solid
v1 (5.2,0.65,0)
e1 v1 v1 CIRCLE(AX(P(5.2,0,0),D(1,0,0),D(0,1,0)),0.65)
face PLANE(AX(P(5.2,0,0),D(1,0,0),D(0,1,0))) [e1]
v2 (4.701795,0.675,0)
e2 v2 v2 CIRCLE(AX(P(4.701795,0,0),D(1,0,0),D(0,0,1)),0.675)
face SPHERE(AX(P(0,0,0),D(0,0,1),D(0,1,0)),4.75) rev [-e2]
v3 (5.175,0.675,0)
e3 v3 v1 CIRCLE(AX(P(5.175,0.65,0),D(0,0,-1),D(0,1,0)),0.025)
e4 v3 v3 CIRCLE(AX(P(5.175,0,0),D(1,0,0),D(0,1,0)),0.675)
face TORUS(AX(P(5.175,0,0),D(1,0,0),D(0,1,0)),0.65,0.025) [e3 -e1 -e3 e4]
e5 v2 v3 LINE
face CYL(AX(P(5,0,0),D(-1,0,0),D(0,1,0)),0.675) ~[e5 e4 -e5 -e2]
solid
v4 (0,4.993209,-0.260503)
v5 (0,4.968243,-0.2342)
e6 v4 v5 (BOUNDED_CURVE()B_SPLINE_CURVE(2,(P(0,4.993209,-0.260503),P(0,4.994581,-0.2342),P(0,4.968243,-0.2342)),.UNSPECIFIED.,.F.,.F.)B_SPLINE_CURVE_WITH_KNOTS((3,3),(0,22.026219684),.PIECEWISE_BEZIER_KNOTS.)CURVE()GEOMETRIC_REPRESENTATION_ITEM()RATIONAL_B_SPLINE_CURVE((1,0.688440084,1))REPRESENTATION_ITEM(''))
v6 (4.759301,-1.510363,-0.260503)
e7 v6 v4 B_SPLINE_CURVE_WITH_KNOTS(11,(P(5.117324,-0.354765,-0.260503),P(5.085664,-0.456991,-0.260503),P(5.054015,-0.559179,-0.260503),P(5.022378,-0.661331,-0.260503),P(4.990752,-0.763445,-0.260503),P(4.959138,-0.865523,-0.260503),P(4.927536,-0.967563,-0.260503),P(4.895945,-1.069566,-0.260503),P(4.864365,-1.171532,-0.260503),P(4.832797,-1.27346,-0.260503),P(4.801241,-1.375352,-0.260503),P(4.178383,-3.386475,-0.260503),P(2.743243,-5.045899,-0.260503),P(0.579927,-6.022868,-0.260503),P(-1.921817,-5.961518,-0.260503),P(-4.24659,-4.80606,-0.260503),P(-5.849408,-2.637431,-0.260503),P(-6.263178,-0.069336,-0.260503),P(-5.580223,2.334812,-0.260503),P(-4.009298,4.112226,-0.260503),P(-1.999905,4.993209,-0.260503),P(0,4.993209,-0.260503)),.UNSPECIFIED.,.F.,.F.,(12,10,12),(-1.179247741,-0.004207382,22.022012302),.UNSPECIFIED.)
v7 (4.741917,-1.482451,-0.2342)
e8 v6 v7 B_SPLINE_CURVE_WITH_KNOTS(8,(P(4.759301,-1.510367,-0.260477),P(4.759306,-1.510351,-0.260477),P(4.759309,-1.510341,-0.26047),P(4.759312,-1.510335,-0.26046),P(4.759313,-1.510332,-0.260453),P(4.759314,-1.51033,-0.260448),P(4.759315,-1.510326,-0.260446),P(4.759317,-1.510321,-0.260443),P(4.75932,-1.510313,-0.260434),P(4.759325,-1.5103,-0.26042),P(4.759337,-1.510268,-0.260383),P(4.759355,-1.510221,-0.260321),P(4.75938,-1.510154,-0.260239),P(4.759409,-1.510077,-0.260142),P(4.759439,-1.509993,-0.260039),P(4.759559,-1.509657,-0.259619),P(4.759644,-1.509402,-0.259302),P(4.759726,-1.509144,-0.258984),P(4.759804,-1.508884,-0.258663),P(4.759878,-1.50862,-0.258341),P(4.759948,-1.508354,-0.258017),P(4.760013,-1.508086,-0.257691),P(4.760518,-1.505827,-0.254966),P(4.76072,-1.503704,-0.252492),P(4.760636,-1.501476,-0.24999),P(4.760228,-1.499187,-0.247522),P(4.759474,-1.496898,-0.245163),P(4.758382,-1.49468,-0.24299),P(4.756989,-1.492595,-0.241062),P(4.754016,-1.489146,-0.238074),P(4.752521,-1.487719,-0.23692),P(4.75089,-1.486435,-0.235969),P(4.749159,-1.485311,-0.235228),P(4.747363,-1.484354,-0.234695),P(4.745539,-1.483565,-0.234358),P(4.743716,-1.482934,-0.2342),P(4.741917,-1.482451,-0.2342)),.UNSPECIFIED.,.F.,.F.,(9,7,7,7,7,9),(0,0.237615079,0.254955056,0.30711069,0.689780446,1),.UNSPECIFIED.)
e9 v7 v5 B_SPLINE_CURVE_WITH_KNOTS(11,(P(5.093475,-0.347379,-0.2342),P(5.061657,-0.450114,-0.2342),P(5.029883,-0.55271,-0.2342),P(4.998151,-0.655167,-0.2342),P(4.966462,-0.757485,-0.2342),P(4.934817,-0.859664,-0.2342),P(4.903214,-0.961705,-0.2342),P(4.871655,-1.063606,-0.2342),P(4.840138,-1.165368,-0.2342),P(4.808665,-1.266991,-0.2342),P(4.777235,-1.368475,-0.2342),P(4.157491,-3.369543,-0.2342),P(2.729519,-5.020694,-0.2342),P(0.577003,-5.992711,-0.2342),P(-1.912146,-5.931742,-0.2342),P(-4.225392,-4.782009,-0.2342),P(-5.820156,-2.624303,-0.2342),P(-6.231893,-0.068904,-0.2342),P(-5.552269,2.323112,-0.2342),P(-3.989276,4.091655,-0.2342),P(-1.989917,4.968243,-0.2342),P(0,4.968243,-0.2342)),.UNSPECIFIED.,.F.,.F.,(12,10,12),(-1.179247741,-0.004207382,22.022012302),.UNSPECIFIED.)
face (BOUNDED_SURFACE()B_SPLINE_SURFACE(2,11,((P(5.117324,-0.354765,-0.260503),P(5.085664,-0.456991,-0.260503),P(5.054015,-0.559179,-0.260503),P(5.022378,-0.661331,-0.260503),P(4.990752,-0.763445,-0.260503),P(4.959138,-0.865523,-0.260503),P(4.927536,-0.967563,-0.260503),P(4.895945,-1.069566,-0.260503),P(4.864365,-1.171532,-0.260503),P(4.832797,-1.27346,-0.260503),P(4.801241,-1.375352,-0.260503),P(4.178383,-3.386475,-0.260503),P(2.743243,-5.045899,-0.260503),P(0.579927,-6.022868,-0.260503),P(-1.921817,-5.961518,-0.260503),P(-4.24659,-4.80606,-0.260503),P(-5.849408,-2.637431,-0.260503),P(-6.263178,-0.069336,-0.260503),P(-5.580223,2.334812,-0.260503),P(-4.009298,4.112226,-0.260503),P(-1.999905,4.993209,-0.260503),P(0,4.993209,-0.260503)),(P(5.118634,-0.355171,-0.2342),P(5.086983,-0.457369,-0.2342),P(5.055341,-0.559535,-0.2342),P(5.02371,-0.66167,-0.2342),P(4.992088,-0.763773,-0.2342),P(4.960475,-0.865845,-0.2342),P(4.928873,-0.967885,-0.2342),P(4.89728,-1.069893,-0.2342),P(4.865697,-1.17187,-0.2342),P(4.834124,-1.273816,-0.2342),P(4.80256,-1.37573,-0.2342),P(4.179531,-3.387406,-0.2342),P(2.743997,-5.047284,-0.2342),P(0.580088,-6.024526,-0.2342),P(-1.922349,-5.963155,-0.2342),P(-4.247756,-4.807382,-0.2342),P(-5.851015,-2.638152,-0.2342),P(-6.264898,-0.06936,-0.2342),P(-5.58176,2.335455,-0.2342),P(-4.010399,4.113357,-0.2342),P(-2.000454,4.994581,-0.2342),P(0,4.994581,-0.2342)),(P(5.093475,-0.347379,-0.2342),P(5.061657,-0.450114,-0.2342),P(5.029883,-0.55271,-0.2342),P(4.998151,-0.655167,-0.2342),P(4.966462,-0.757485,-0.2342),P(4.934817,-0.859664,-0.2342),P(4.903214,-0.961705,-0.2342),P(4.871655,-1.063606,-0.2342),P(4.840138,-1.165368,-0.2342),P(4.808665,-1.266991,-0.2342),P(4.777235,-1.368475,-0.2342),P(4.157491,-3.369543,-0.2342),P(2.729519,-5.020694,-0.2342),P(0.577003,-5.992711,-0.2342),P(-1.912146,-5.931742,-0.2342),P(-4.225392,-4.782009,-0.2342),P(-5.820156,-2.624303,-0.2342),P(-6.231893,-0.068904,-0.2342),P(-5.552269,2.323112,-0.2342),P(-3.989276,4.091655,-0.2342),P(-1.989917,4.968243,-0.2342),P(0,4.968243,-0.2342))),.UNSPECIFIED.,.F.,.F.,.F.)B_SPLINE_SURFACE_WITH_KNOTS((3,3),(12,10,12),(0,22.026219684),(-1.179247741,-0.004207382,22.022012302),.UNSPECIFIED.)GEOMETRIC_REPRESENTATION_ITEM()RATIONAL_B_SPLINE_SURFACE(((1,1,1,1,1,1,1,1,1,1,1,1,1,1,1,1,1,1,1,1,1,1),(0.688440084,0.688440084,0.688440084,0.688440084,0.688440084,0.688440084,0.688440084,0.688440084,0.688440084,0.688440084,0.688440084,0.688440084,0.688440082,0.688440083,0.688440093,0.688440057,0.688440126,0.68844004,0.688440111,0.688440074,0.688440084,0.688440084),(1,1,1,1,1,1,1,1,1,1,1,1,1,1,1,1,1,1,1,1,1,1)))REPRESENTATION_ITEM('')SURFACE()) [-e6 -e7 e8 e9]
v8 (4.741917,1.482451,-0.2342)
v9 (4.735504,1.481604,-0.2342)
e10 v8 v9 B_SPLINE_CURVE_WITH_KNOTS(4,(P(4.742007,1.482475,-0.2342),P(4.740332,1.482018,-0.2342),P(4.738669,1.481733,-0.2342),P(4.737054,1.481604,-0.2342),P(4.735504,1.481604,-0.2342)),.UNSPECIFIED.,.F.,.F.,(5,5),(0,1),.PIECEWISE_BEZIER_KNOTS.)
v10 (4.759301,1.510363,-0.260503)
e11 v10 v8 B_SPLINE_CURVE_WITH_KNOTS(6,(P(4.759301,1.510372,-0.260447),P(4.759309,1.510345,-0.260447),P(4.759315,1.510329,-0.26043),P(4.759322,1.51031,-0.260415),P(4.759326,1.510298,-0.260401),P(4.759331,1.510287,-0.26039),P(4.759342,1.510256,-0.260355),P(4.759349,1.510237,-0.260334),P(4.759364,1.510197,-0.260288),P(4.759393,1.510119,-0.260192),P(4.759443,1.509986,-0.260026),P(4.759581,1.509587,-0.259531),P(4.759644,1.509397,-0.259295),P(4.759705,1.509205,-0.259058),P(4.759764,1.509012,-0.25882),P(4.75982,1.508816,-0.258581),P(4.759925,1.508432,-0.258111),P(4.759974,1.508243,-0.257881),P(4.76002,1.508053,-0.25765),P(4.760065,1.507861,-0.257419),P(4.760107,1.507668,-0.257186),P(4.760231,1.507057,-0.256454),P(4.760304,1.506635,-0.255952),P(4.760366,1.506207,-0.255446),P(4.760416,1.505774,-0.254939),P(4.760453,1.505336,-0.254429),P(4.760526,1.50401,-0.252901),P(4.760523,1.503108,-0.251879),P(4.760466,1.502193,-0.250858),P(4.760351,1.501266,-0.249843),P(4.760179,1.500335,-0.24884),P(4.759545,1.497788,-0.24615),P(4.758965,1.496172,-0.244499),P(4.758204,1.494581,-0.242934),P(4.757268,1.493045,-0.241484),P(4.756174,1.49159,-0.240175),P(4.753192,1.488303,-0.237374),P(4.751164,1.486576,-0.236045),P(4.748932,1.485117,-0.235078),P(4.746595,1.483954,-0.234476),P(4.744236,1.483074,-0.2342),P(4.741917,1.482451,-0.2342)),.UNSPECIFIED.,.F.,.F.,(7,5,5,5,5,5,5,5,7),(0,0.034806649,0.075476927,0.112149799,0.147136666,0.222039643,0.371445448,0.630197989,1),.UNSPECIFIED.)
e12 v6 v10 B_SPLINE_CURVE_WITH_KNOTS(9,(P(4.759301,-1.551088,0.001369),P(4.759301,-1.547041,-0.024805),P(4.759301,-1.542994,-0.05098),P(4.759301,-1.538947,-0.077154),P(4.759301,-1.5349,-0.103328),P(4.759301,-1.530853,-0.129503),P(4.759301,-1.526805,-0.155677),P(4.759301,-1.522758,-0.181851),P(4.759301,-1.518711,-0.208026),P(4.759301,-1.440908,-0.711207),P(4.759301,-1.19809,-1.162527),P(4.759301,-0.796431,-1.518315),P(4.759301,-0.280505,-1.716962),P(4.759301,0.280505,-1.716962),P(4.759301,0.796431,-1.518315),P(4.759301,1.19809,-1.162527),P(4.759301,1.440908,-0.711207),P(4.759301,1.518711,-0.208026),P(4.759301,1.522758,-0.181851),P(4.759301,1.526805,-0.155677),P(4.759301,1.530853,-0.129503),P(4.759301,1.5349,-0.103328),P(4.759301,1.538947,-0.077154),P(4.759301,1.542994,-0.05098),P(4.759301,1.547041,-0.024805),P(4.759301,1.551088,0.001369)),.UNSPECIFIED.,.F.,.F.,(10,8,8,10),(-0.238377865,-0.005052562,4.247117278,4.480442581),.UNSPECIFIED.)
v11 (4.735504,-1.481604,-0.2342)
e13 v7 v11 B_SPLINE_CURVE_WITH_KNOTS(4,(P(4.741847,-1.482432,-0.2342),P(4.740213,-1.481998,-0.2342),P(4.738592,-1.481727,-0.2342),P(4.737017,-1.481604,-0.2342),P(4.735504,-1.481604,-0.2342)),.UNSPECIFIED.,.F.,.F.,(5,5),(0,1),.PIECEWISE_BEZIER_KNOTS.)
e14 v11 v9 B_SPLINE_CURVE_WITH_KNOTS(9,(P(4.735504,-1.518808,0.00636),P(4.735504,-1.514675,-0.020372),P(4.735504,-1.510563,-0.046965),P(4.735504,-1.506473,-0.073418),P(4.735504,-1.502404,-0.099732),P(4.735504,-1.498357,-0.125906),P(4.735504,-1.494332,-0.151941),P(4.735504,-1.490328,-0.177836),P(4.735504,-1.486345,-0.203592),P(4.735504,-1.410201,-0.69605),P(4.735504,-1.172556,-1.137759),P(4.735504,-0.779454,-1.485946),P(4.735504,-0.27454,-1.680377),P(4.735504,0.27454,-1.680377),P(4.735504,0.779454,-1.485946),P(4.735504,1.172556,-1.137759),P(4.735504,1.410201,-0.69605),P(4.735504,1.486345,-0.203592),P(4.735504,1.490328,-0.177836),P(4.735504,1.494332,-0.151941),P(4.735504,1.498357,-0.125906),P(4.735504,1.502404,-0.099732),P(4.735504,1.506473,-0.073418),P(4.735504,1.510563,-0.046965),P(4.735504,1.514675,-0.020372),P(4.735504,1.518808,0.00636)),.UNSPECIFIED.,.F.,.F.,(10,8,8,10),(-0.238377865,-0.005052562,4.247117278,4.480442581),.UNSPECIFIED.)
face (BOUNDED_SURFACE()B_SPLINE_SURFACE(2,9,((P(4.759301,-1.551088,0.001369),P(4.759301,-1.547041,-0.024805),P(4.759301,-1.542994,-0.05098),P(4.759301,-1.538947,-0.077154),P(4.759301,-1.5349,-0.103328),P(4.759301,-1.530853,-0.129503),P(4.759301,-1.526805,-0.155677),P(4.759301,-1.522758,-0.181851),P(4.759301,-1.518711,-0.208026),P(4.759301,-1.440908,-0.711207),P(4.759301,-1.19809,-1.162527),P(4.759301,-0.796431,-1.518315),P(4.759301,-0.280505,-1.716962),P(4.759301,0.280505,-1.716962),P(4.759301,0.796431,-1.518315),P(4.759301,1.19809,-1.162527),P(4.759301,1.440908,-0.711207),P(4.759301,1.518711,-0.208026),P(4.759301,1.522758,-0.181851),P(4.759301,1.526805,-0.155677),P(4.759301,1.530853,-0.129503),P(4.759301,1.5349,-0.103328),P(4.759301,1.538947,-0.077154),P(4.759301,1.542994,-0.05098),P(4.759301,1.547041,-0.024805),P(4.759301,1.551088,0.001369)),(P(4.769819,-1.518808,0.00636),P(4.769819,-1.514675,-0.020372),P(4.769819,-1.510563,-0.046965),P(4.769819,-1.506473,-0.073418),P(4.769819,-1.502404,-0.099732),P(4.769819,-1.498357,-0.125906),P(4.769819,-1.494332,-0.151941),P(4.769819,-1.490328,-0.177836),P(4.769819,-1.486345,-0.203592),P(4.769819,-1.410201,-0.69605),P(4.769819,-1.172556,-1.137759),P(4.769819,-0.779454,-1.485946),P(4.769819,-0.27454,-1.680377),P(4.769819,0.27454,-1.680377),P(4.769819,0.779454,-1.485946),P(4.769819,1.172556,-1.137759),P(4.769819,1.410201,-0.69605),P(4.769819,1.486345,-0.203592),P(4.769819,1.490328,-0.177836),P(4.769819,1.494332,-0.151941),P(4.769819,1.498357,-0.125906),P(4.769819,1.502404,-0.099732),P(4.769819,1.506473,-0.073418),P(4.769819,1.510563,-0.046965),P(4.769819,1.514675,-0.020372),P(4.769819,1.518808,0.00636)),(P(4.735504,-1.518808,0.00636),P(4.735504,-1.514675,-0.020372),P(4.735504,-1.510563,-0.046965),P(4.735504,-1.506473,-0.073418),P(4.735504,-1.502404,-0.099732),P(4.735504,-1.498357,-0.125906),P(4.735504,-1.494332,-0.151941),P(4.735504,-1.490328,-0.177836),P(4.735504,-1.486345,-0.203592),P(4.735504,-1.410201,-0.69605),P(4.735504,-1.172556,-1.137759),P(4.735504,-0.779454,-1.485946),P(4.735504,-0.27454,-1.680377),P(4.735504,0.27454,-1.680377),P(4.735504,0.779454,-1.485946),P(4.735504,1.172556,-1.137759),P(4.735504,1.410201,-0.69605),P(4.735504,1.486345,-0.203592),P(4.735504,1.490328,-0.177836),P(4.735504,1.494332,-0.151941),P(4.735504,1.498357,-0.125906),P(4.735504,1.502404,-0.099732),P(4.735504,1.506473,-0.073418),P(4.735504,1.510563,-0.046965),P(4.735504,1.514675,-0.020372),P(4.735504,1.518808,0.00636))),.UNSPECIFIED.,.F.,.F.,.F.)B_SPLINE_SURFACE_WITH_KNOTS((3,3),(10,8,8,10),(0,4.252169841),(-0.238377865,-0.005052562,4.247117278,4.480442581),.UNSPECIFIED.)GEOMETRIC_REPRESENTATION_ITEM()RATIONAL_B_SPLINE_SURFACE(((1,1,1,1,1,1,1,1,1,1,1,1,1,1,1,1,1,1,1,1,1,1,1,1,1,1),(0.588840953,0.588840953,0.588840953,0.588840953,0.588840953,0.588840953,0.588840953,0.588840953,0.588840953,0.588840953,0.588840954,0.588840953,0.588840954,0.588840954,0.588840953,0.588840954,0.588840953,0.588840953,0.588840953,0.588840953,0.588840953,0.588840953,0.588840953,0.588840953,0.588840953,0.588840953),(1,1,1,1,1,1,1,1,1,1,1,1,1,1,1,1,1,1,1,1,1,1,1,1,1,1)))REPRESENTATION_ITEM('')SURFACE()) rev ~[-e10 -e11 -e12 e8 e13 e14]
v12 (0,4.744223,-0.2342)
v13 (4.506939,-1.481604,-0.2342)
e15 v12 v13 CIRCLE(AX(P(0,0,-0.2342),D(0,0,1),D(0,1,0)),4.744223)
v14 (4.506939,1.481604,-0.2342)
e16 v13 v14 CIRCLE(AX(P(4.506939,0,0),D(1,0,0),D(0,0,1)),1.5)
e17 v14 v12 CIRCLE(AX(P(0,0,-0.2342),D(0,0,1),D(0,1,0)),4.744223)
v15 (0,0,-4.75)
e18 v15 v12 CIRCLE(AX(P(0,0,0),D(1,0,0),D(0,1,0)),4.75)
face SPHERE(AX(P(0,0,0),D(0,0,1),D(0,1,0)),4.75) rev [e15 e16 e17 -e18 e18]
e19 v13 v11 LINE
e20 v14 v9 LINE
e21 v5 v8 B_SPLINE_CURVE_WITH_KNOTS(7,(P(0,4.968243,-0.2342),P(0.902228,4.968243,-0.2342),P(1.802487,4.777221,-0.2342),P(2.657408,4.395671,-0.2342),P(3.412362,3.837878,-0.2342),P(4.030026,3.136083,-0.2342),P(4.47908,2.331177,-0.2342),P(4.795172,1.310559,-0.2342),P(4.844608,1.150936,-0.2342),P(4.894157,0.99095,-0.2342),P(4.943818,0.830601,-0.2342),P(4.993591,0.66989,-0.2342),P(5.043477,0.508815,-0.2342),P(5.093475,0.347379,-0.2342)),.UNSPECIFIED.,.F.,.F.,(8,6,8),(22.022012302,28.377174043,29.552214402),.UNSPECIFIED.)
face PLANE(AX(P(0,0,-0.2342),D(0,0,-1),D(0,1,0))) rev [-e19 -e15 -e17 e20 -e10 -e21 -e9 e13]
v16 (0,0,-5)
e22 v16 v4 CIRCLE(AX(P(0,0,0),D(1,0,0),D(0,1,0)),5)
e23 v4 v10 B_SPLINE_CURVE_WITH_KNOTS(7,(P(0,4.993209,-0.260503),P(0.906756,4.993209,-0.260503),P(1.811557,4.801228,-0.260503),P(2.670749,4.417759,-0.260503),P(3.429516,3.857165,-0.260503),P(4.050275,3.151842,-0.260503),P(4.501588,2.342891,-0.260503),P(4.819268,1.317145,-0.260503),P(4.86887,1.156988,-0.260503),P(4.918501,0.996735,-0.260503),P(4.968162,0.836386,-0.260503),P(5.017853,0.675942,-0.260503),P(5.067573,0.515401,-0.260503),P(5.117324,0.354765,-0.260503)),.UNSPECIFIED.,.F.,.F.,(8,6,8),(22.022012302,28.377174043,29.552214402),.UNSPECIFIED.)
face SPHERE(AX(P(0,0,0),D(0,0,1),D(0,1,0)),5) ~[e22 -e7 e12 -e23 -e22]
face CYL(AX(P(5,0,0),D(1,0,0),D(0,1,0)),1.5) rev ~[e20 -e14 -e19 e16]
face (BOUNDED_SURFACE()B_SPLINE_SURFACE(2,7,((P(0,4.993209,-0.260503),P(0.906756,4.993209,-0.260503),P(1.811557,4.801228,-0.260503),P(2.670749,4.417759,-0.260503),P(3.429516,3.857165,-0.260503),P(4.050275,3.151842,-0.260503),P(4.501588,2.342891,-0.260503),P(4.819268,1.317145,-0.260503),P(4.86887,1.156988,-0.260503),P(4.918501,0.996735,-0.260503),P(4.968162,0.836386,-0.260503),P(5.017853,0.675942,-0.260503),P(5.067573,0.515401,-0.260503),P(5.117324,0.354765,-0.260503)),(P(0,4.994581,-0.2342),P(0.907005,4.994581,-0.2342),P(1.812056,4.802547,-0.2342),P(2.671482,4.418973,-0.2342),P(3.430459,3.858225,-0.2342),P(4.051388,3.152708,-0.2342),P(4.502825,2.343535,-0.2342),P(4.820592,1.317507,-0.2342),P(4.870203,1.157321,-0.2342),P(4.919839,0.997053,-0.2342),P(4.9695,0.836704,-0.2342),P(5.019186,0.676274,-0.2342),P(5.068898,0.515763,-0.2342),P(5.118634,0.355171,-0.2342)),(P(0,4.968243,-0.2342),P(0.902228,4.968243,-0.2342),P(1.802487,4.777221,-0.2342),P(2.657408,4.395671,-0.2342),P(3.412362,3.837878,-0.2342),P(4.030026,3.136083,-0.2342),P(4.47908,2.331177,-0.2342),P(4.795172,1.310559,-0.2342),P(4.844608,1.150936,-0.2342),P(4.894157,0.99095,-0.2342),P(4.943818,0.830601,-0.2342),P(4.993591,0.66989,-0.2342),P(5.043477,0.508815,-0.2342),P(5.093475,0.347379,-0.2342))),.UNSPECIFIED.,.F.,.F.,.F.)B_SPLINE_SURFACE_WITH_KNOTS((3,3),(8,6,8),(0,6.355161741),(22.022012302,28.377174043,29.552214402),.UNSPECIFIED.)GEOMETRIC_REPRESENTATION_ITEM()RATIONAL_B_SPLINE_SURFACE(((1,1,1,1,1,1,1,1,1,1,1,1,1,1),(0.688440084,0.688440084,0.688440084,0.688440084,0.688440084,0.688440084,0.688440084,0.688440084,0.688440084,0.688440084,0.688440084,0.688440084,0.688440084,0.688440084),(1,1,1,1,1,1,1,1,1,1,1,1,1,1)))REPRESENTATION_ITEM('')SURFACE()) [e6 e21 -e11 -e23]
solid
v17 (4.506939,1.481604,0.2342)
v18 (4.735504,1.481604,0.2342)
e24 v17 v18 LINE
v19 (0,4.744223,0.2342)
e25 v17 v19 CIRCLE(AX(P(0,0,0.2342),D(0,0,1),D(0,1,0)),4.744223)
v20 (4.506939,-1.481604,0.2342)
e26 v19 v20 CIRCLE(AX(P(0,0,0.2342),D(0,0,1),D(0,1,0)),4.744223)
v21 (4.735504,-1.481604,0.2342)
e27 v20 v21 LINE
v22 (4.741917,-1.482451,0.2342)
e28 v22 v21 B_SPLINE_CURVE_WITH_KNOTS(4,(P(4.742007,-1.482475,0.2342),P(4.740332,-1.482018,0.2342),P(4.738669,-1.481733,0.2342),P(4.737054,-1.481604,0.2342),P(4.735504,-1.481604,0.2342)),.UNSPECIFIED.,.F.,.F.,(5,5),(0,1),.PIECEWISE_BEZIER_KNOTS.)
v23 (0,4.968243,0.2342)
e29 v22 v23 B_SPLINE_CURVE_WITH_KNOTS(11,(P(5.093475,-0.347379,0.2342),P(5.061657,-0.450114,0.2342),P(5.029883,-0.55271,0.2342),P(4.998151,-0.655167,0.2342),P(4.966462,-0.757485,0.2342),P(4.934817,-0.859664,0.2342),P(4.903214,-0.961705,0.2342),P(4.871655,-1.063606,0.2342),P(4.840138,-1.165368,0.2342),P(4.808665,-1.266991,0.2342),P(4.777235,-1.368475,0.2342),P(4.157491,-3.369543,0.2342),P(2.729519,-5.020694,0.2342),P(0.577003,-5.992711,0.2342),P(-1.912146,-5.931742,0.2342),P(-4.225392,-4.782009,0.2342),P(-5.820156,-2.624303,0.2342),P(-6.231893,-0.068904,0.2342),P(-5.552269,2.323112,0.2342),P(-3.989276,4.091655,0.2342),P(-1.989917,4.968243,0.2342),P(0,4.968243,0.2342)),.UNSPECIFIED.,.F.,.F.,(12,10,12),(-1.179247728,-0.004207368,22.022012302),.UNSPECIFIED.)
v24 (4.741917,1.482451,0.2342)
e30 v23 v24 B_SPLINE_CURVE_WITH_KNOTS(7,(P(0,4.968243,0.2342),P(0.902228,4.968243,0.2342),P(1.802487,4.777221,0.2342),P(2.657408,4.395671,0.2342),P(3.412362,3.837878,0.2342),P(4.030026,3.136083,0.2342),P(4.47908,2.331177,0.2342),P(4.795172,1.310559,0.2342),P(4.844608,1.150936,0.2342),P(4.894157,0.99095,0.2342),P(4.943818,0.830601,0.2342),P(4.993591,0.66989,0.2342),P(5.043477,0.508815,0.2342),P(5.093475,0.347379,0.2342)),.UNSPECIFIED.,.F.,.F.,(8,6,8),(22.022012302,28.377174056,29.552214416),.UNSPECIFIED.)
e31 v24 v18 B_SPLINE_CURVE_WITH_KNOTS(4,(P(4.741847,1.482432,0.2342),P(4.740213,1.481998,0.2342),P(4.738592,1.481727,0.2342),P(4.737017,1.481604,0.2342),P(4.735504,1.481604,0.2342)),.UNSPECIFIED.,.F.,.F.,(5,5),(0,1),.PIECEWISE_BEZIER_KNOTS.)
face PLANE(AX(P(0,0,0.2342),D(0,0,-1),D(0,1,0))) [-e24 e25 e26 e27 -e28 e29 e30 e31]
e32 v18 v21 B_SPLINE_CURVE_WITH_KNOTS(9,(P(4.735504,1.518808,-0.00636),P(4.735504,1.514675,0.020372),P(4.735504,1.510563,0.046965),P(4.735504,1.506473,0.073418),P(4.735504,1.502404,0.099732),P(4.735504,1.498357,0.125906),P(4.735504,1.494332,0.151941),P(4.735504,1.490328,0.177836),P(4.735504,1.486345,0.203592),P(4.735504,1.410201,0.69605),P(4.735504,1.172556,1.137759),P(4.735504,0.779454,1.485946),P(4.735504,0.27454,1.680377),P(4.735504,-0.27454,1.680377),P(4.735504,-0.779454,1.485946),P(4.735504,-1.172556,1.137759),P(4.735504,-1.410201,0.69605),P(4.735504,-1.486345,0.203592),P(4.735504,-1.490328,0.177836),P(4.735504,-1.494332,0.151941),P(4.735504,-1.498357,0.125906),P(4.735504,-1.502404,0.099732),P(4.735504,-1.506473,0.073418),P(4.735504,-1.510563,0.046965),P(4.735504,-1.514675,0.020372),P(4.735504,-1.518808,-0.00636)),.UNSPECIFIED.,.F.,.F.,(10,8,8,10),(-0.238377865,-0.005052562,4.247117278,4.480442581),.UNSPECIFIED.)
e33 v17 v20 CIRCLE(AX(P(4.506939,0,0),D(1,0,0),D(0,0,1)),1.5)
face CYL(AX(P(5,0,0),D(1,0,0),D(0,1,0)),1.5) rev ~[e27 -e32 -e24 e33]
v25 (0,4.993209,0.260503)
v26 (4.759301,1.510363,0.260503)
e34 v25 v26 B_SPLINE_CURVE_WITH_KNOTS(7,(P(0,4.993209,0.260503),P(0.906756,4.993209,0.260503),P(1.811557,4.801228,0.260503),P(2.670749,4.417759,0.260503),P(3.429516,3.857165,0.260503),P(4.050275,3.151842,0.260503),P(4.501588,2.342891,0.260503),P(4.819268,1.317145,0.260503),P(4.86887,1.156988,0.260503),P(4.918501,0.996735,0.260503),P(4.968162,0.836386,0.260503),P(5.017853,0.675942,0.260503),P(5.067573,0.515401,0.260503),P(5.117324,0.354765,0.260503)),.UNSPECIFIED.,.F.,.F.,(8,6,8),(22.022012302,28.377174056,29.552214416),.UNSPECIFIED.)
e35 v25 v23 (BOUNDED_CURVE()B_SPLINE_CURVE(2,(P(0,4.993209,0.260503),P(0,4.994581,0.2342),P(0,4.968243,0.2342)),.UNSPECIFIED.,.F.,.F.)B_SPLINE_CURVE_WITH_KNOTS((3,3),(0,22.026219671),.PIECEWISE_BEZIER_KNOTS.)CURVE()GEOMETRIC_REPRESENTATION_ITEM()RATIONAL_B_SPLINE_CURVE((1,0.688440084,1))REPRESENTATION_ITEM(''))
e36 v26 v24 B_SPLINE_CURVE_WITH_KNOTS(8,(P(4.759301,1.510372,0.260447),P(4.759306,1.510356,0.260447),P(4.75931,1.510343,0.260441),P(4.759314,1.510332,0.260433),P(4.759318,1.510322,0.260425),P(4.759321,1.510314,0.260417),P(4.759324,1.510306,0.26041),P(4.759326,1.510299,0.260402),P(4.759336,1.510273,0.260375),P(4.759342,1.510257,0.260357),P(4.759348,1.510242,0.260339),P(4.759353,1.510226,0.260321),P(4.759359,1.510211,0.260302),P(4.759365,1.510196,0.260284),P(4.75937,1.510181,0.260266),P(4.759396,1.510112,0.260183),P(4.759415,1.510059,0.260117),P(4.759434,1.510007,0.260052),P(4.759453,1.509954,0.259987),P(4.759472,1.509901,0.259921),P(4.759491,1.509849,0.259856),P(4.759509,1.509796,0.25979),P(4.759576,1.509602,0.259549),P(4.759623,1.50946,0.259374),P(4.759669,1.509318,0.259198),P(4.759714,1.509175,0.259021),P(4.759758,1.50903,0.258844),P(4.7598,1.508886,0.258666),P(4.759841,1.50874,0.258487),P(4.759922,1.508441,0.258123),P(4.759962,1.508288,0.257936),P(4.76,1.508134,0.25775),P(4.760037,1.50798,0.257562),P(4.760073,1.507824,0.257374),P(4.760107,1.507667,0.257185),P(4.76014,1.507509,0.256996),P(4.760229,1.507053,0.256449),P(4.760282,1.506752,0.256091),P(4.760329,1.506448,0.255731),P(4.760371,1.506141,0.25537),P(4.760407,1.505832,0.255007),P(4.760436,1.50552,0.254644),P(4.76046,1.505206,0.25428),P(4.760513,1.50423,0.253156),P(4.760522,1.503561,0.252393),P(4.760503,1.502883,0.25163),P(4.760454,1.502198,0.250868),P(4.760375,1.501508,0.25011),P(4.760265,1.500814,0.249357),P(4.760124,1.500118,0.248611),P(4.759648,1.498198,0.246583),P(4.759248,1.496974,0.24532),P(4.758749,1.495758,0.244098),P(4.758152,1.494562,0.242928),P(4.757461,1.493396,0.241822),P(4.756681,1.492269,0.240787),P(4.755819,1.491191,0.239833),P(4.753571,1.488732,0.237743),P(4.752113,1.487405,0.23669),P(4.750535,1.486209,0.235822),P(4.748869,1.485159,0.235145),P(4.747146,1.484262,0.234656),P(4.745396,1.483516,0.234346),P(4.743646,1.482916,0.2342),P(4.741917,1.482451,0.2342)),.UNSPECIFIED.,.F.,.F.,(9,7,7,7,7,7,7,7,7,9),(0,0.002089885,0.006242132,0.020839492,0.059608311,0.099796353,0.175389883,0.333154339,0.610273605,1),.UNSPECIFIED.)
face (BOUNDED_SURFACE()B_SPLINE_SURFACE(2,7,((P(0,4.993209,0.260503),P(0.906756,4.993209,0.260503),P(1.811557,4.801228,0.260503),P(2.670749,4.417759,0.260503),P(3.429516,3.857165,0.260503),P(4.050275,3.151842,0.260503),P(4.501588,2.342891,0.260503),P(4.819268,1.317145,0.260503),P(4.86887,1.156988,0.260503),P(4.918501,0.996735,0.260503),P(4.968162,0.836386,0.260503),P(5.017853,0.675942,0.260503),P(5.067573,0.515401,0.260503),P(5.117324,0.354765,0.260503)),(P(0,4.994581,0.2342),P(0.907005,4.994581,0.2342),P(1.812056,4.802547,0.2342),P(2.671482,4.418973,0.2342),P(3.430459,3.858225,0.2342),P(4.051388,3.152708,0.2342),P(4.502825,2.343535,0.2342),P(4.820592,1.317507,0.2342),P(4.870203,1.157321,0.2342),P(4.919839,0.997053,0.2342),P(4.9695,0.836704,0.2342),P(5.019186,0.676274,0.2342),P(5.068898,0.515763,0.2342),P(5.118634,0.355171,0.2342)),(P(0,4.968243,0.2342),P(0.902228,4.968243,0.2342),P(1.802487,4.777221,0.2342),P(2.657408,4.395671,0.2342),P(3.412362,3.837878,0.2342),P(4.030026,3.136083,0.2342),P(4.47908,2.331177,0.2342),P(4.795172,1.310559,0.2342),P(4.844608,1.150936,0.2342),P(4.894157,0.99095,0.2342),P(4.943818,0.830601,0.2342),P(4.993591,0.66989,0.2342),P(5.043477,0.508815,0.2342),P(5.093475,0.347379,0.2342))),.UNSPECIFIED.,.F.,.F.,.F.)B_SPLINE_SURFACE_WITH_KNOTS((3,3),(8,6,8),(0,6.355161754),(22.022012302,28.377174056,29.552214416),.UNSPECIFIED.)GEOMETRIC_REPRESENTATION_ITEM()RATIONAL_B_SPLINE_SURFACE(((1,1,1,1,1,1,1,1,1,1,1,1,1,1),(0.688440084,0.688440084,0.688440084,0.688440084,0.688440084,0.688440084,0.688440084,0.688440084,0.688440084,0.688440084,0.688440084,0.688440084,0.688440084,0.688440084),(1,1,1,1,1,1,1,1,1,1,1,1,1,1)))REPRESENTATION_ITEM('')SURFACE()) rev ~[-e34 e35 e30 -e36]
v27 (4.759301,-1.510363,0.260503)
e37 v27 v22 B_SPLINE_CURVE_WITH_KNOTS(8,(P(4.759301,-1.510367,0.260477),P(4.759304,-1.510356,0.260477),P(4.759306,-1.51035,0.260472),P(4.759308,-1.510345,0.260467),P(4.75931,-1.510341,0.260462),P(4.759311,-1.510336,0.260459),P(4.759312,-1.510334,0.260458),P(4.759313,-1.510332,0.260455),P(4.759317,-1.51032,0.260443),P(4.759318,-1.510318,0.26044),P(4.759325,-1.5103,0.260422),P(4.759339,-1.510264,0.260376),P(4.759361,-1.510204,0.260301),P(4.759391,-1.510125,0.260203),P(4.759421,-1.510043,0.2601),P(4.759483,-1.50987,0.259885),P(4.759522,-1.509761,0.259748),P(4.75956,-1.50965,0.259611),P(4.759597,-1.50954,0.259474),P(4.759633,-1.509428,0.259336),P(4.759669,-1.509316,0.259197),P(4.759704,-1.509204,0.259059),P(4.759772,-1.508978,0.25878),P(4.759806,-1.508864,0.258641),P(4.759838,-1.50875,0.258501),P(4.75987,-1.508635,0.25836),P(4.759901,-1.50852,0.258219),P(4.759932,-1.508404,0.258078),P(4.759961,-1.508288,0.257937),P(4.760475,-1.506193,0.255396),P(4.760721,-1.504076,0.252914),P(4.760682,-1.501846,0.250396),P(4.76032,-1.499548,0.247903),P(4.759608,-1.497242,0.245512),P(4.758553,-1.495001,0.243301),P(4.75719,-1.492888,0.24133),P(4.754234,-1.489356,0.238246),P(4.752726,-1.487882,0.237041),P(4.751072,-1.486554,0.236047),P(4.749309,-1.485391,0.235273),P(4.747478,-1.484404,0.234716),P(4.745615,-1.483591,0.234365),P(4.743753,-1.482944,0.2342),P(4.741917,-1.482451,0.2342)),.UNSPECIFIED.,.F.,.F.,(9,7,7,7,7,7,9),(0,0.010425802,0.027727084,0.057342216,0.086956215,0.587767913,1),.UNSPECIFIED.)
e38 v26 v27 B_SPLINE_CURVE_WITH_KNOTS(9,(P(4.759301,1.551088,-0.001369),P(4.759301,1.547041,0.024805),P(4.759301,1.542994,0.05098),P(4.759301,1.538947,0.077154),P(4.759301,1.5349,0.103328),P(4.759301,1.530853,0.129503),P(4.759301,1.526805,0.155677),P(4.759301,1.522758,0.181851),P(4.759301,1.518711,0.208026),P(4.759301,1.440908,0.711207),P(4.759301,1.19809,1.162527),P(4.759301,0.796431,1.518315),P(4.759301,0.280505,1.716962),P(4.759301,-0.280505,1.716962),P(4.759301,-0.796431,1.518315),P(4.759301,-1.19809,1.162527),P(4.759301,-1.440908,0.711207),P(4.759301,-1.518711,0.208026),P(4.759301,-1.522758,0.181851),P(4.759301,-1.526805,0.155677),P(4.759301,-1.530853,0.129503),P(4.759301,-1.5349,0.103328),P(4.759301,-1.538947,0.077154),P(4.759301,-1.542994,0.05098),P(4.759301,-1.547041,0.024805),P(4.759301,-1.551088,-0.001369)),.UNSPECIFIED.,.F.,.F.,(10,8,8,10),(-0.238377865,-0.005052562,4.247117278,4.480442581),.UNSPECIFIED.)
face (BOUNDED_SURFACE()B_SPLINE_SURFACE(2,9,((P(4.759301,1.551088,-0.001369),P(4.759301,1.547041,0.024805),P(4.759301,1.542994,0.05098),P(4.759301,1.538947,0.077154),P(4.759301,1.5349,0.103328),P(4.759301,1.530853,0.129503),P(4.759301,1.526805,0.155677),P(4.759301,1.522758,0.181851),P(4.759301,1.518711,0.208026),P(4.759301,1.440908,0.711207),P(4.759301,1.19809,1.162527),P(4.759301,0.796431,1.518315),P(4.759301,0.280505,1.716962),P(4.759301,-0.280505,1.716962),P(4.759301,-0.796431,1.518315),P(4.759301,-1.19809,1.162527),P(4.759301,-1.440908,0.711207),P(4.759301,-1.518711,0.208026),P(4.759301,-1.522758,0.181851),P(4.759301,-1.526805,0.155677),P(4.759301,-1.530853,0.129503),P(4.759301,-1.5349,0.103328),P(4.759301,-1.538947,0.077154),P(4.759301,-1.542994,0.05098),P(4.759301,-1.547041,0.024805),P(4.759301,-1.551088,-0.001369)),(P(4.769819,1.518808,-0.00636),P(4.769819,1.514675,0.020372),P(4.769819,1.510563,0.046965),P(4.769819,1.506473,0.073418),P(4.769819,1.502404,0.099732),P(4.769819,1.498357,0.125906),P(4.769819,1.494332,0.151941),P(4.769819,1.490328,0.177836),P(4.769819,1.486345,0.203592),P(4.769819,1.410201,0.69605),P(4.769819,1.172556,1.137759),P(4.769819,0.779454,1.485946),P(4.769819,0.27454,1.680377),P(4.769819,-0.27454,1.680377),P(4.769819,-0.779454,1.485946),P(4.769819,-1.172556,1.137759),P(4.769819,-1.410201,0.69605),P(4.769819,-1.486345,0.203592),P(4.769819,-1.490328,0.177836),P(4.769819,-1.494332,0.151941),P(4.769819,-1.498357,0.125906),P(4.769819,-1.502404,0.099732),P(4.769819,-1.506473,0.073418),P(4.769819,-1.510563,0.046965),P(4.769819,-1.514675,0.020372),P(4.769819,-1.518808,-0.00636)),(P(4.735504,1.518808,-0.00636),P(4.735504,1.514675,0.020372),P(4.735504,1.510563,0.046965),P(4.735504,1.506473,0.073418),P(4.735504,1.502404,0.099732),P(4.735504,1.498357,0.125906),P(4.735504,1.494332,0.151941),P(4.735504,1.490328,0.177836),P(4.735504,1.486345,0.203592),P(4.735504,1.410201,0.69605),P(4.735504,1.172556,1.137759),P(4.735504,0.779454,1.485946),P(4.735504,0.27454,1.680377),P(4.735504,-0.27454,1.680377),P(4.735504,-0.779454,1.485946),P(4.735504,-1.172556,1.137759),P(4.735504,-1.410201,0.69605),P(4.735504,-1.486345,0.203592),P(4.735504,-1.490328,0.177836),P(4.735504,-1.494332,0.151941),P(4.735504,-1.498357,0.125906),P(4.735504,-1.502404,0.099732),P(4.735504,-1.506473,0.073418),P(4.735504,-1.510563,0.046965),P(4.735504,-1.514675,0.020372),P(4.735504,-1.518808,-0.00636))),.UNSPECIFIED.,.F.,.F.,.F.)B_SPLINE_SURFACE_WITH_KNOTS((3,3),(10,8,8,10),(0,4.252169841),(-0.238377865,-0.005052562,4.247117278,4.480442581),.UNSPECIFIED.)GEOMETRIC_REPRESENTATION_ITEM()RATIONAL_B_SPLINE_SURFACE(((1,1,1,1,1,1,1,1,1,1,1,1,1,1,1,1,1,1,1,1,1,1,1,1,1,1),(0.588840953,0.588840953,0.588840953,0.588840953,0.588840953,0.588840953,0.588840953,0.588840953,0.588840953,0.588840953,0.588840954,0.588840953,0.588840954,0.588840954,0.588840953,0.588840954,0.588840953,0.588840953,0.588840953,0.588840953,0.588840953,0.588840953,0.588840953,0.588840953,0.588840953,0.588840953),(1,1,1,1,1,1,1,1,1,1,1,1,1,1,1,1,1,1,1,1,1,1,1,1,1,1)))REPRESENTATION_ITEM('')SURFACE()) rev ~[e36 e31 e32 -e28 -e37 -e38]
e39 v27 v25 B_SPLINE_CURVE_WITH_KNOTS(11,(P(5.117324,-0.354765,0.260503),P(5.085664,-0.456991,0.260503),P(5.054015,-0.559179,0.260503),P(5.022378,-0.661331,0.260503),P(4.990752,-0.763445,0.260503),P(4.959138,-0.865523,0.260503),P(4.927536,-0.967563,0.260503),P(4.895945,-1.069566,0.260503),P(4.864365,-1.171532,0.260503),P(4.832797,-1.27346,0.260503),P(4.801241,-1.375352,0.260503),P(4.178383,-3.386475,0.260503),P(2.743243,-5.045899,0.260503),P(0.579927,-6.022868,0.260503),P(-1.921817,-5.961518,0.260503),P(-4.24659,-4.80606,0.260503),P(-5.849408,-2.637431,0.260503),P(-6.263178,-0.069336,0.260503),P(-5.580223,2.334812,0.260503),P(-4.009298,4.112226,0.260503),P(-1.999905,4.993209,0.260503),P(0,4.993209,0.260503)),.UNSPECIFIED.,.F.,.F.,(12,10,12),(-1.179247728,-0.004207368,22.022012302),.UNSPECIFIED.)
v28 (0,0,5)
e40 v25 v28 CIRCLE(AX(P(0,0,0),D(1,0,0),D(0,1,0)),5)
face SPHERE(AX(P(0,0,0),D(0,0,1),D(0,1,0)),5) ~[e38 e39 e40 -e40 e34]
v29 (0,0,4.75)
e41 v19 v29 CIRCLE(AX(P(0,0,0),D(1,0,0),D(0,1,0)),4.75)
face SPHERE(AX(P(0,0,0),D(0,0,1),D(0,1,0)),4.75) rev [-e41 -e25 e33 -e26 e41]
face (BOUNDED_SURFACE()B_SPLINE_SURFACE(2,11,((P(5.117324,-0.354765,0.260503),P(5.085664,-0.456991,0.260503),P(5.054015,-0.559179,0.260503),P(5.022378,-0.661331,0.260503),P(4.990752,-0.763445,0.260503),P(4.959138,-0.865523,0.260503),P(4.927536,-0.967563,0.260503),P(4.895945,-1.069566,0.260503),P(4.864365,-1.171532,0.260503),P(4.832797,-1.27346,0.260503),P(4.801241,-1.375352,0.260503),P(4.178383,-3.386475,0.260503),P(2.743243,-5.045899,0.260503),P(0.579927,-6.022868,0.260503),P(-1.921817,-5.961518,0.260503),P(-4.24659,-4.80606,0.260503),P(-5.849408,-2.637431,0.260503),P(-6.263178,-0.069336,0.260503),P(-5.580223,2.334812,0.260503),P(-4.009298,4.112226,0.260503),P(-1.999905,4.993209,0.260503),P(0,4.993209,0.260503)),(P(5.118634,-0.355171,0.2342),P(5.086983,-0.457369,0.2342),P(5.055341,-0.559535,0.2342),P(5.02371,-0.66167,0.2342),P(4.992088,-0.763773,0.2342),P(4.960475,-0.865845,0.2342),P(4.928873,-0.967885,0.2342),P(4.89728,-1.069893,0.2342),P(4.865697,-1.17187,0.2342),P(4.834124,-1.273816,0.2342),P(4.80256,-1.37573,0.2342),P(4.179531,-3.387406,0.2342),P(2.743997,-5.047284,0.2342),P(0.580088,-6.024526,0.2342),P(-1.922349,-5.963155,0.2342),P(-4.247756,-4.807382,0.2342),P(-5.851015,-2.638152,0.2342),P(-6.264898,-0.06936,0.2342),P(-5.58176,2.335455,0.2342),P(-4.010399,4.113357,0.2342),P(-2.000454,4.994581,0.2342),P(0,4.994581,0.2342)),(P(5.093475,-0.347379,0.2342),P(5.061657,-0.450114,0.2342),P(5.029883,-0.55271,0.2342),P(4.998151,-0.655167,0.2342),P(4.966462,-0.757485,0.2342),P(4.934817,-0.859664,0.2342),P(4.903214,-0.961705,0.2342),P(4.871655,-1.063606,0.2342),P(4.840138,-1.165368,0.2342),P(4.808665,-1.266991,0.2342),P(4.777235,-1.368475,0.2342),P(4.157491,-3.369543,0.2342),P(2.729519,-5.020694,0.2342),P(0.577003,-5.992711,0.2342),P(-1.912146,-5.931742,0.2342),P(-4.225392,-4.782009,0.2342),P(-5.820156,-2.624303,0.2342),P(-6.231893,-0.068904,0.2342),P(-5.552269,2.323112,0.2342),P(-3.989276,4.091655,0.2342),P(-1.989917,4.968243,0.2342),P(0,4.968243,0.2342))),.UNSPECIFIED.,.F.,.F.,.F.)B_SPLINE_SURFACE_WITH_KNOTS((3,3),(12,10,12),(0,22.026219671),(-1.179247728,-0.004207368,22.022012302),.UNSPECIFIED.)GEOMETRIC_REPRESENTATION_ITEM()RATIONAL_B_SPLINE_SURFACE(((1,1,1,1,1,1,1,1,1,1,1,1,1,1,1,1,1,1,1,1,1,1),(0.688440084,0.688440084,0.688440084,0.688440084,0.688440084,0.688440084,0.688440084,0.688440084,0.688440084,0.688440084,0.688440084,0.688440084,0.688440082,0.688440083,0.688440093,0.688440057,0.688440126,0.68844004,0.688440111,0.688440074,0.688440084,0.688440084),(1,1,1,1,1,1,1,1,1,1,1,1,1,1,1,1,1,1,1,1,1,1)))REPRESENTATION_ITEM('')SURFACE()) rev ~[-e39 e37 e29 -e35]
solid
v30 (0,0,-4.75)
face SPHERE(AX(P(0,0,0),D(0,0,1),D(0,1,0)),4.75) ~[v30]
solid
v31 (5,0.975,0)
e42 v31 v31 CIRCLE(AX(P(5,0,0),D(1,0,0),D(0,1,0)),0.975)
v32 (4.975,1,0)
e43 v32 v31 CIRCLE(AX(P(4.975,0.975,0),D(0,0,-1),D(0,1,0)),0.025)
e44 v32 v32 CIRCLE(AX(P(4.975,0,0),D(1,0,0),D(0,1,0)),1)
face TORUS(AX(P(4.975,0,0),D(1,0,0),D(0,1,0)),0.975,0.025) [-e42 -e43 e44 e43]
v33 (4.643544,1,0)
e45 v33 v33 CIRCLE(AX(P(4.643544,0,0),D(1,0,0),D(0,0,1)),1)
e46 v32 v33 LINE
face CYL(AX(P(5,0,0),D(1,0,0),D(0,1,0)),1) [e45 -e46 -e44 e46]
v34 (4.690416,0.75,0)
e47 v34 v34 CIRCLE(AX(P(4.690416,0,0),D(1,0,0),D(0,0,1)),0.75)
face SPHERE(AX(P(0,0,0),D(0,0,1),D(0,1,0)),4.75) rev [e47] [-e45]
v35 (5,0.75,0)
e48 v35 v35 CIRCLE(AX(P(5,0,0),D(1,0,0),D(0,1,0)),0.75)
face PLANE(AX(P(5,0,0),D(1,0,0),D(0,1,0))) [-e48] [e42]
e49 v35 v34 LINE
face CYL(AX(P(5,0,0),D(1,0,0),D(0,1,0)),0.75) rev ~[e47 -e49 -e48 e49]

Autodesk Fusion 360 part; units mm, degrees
sketch "Esquisse1" plane through (0, 0, 0) normal (0, 0, 1) x (1, 0, 0)
  circle A0 centre (6, -6) radius 5
  line L0 (12.2202, -6) -> (0, -6)
  line L1 (0, -6) -> (-0.5, -6)
  line L2 (5.7277, -14.6619) -> (5.7277, 2.6619)
  line L3 (5.7277, 2.6619) -> (6.2723, 2.6619)
  line L4 (6.2723, 2.6619) -> (6.2723, -14.6619)
  line L5 (6.2723, -14.6619) -> (5.7277, -14.6619)
  line L6 (5.7277, -14.6619) -> (6.2723, 2.6619) construction
  line L7 (5.7277, 2.6619) -> (6.2723, -14.6619) construction
  point P0 (6, -6)
  dimension "d1" = 10
sketch "Esquisse2" plane through (0, 0, 0) normal (0, 0, 1) x (1, 0, 0)
sketch "Esquisse3" plane through (0, 0, 0) normal (1, 0, 0) x (0, 1, 0)
  circle A0 centre (0, 0) radius 5
  line L0 (0, 0) -> (0, 6.5)
  line L1 (0, 6.5) -> (0, -6.5)
  line L2 (9.0773, 0.2342) -> (-9.0773, 0.2342)
  line L3 (-9.0773, 0.2342) -> (-9.0773, -0.2342)
  line L4 (-9.0773, -0.2342) -> (9.0773, -0.2342)
  line L5 (9.0773, -0.2342) -> (9.0773, 0.2342)
  line L6 (9.0773, 0.2342) -> (-9.0773, -0.2342) construction
  line L7 (-9.0773, 0.2342) -> (9.0773, -0.2342) construction
  dimension "d5" = 10
revolve "Révolution2" add sketch "Esquisse3" angle 360 about axis through (0, 0, 6.5) along (0, 0, -1) contours A0 L0 L1 L2 | A0 L1 L4 picked at (3.3029, 0.4634) picked at (3.3029, -0.4634) makes body 1 at (-4.2649, 2.4623, 0.8649) makes body 2 at (-4.2649, -2.4623, -0.8649)
shell "Coque2" thickness 0.25 removed faces 2 at (1.3016, 1.038, 0.2342) at (0.2723, 0.634, -0.2342) on bodies 1 2
sketch "Esquisse4" plane through (0, 0, 0) normal (0, 1, 0) x (1, 0, 0)
sketch "Esquisse5" plane through (0, 0, 0) normal (1, 0, 0) x (0, 1, 0)
  circle A0 centre (0, 0) radius 4.75
  line L0 (0, 6.5) -> (0, -6.1788)
  line L1 (-4.743, 0.2576) -> (4.743, 0.2576)
  dimension "d8" = 9.5
revolve "Révolution3" add sketch "Esquisse5" angle 360 about axis through (0, 0, 6.5) along (0, 0, -1) separate body contours A0 L0 L1 | A0 L0 L1 picked at (0.2253, -3.0647) picked at (3.1352, 0.4741) makes body 3
ref_plane "Plan de construction2" through (5, 0, 0) normal (1, 0, 0) x (0, 1, 0)
sketch "Esquisse6" plane through (5, 0, 0) normal (1, 0, 0) x (0, 1, 0)
  circle A0 centre (0, 0) radius 1.5
  circle A1 centre (0, 0) radius 1
  circle A2 centre (0, 0) radius 0.75
  circle A3 centre (0, 0) radius 0.675
  dimension "d12" = 3
  dimension "d13" = 2
  dimension "d14" = 1.5
  dimension "d15" = 1.35
extrude "Extrusion1" cut sketch "Esquisse6" along normal up to surface contours A0 | A1 | A2 | A3 end surface at (1.1228, 4.5034, -1.0107) on bodies 3 bodies 1 2
extrude "Extrusion2" add sketch "Esquisse6" along normal up to surface separate body contours A1 end surface at (1.1228, 4.5034, -1.0107) on bodies 3 makes body 4
extrude "Extrusion3" add sketch "Esquisse6" along normal blind 0.2 and the other way up to surface separate body contours A3 second end surface at (1.1228, 4.5034, -1.0107) on bodies 3 makes body 5
fillet "Congé1" radius 0.025 6 edges at (-4.9945, 0, 0.2342) (4.7697, 0, 1.5) (-4.9945, 0, -0.2342) (4.7697, 0, -1.5) (5, -0.9323, -0.3616) (5.2, -0.6293, -0.2441) on bodies 1 2 4 5
